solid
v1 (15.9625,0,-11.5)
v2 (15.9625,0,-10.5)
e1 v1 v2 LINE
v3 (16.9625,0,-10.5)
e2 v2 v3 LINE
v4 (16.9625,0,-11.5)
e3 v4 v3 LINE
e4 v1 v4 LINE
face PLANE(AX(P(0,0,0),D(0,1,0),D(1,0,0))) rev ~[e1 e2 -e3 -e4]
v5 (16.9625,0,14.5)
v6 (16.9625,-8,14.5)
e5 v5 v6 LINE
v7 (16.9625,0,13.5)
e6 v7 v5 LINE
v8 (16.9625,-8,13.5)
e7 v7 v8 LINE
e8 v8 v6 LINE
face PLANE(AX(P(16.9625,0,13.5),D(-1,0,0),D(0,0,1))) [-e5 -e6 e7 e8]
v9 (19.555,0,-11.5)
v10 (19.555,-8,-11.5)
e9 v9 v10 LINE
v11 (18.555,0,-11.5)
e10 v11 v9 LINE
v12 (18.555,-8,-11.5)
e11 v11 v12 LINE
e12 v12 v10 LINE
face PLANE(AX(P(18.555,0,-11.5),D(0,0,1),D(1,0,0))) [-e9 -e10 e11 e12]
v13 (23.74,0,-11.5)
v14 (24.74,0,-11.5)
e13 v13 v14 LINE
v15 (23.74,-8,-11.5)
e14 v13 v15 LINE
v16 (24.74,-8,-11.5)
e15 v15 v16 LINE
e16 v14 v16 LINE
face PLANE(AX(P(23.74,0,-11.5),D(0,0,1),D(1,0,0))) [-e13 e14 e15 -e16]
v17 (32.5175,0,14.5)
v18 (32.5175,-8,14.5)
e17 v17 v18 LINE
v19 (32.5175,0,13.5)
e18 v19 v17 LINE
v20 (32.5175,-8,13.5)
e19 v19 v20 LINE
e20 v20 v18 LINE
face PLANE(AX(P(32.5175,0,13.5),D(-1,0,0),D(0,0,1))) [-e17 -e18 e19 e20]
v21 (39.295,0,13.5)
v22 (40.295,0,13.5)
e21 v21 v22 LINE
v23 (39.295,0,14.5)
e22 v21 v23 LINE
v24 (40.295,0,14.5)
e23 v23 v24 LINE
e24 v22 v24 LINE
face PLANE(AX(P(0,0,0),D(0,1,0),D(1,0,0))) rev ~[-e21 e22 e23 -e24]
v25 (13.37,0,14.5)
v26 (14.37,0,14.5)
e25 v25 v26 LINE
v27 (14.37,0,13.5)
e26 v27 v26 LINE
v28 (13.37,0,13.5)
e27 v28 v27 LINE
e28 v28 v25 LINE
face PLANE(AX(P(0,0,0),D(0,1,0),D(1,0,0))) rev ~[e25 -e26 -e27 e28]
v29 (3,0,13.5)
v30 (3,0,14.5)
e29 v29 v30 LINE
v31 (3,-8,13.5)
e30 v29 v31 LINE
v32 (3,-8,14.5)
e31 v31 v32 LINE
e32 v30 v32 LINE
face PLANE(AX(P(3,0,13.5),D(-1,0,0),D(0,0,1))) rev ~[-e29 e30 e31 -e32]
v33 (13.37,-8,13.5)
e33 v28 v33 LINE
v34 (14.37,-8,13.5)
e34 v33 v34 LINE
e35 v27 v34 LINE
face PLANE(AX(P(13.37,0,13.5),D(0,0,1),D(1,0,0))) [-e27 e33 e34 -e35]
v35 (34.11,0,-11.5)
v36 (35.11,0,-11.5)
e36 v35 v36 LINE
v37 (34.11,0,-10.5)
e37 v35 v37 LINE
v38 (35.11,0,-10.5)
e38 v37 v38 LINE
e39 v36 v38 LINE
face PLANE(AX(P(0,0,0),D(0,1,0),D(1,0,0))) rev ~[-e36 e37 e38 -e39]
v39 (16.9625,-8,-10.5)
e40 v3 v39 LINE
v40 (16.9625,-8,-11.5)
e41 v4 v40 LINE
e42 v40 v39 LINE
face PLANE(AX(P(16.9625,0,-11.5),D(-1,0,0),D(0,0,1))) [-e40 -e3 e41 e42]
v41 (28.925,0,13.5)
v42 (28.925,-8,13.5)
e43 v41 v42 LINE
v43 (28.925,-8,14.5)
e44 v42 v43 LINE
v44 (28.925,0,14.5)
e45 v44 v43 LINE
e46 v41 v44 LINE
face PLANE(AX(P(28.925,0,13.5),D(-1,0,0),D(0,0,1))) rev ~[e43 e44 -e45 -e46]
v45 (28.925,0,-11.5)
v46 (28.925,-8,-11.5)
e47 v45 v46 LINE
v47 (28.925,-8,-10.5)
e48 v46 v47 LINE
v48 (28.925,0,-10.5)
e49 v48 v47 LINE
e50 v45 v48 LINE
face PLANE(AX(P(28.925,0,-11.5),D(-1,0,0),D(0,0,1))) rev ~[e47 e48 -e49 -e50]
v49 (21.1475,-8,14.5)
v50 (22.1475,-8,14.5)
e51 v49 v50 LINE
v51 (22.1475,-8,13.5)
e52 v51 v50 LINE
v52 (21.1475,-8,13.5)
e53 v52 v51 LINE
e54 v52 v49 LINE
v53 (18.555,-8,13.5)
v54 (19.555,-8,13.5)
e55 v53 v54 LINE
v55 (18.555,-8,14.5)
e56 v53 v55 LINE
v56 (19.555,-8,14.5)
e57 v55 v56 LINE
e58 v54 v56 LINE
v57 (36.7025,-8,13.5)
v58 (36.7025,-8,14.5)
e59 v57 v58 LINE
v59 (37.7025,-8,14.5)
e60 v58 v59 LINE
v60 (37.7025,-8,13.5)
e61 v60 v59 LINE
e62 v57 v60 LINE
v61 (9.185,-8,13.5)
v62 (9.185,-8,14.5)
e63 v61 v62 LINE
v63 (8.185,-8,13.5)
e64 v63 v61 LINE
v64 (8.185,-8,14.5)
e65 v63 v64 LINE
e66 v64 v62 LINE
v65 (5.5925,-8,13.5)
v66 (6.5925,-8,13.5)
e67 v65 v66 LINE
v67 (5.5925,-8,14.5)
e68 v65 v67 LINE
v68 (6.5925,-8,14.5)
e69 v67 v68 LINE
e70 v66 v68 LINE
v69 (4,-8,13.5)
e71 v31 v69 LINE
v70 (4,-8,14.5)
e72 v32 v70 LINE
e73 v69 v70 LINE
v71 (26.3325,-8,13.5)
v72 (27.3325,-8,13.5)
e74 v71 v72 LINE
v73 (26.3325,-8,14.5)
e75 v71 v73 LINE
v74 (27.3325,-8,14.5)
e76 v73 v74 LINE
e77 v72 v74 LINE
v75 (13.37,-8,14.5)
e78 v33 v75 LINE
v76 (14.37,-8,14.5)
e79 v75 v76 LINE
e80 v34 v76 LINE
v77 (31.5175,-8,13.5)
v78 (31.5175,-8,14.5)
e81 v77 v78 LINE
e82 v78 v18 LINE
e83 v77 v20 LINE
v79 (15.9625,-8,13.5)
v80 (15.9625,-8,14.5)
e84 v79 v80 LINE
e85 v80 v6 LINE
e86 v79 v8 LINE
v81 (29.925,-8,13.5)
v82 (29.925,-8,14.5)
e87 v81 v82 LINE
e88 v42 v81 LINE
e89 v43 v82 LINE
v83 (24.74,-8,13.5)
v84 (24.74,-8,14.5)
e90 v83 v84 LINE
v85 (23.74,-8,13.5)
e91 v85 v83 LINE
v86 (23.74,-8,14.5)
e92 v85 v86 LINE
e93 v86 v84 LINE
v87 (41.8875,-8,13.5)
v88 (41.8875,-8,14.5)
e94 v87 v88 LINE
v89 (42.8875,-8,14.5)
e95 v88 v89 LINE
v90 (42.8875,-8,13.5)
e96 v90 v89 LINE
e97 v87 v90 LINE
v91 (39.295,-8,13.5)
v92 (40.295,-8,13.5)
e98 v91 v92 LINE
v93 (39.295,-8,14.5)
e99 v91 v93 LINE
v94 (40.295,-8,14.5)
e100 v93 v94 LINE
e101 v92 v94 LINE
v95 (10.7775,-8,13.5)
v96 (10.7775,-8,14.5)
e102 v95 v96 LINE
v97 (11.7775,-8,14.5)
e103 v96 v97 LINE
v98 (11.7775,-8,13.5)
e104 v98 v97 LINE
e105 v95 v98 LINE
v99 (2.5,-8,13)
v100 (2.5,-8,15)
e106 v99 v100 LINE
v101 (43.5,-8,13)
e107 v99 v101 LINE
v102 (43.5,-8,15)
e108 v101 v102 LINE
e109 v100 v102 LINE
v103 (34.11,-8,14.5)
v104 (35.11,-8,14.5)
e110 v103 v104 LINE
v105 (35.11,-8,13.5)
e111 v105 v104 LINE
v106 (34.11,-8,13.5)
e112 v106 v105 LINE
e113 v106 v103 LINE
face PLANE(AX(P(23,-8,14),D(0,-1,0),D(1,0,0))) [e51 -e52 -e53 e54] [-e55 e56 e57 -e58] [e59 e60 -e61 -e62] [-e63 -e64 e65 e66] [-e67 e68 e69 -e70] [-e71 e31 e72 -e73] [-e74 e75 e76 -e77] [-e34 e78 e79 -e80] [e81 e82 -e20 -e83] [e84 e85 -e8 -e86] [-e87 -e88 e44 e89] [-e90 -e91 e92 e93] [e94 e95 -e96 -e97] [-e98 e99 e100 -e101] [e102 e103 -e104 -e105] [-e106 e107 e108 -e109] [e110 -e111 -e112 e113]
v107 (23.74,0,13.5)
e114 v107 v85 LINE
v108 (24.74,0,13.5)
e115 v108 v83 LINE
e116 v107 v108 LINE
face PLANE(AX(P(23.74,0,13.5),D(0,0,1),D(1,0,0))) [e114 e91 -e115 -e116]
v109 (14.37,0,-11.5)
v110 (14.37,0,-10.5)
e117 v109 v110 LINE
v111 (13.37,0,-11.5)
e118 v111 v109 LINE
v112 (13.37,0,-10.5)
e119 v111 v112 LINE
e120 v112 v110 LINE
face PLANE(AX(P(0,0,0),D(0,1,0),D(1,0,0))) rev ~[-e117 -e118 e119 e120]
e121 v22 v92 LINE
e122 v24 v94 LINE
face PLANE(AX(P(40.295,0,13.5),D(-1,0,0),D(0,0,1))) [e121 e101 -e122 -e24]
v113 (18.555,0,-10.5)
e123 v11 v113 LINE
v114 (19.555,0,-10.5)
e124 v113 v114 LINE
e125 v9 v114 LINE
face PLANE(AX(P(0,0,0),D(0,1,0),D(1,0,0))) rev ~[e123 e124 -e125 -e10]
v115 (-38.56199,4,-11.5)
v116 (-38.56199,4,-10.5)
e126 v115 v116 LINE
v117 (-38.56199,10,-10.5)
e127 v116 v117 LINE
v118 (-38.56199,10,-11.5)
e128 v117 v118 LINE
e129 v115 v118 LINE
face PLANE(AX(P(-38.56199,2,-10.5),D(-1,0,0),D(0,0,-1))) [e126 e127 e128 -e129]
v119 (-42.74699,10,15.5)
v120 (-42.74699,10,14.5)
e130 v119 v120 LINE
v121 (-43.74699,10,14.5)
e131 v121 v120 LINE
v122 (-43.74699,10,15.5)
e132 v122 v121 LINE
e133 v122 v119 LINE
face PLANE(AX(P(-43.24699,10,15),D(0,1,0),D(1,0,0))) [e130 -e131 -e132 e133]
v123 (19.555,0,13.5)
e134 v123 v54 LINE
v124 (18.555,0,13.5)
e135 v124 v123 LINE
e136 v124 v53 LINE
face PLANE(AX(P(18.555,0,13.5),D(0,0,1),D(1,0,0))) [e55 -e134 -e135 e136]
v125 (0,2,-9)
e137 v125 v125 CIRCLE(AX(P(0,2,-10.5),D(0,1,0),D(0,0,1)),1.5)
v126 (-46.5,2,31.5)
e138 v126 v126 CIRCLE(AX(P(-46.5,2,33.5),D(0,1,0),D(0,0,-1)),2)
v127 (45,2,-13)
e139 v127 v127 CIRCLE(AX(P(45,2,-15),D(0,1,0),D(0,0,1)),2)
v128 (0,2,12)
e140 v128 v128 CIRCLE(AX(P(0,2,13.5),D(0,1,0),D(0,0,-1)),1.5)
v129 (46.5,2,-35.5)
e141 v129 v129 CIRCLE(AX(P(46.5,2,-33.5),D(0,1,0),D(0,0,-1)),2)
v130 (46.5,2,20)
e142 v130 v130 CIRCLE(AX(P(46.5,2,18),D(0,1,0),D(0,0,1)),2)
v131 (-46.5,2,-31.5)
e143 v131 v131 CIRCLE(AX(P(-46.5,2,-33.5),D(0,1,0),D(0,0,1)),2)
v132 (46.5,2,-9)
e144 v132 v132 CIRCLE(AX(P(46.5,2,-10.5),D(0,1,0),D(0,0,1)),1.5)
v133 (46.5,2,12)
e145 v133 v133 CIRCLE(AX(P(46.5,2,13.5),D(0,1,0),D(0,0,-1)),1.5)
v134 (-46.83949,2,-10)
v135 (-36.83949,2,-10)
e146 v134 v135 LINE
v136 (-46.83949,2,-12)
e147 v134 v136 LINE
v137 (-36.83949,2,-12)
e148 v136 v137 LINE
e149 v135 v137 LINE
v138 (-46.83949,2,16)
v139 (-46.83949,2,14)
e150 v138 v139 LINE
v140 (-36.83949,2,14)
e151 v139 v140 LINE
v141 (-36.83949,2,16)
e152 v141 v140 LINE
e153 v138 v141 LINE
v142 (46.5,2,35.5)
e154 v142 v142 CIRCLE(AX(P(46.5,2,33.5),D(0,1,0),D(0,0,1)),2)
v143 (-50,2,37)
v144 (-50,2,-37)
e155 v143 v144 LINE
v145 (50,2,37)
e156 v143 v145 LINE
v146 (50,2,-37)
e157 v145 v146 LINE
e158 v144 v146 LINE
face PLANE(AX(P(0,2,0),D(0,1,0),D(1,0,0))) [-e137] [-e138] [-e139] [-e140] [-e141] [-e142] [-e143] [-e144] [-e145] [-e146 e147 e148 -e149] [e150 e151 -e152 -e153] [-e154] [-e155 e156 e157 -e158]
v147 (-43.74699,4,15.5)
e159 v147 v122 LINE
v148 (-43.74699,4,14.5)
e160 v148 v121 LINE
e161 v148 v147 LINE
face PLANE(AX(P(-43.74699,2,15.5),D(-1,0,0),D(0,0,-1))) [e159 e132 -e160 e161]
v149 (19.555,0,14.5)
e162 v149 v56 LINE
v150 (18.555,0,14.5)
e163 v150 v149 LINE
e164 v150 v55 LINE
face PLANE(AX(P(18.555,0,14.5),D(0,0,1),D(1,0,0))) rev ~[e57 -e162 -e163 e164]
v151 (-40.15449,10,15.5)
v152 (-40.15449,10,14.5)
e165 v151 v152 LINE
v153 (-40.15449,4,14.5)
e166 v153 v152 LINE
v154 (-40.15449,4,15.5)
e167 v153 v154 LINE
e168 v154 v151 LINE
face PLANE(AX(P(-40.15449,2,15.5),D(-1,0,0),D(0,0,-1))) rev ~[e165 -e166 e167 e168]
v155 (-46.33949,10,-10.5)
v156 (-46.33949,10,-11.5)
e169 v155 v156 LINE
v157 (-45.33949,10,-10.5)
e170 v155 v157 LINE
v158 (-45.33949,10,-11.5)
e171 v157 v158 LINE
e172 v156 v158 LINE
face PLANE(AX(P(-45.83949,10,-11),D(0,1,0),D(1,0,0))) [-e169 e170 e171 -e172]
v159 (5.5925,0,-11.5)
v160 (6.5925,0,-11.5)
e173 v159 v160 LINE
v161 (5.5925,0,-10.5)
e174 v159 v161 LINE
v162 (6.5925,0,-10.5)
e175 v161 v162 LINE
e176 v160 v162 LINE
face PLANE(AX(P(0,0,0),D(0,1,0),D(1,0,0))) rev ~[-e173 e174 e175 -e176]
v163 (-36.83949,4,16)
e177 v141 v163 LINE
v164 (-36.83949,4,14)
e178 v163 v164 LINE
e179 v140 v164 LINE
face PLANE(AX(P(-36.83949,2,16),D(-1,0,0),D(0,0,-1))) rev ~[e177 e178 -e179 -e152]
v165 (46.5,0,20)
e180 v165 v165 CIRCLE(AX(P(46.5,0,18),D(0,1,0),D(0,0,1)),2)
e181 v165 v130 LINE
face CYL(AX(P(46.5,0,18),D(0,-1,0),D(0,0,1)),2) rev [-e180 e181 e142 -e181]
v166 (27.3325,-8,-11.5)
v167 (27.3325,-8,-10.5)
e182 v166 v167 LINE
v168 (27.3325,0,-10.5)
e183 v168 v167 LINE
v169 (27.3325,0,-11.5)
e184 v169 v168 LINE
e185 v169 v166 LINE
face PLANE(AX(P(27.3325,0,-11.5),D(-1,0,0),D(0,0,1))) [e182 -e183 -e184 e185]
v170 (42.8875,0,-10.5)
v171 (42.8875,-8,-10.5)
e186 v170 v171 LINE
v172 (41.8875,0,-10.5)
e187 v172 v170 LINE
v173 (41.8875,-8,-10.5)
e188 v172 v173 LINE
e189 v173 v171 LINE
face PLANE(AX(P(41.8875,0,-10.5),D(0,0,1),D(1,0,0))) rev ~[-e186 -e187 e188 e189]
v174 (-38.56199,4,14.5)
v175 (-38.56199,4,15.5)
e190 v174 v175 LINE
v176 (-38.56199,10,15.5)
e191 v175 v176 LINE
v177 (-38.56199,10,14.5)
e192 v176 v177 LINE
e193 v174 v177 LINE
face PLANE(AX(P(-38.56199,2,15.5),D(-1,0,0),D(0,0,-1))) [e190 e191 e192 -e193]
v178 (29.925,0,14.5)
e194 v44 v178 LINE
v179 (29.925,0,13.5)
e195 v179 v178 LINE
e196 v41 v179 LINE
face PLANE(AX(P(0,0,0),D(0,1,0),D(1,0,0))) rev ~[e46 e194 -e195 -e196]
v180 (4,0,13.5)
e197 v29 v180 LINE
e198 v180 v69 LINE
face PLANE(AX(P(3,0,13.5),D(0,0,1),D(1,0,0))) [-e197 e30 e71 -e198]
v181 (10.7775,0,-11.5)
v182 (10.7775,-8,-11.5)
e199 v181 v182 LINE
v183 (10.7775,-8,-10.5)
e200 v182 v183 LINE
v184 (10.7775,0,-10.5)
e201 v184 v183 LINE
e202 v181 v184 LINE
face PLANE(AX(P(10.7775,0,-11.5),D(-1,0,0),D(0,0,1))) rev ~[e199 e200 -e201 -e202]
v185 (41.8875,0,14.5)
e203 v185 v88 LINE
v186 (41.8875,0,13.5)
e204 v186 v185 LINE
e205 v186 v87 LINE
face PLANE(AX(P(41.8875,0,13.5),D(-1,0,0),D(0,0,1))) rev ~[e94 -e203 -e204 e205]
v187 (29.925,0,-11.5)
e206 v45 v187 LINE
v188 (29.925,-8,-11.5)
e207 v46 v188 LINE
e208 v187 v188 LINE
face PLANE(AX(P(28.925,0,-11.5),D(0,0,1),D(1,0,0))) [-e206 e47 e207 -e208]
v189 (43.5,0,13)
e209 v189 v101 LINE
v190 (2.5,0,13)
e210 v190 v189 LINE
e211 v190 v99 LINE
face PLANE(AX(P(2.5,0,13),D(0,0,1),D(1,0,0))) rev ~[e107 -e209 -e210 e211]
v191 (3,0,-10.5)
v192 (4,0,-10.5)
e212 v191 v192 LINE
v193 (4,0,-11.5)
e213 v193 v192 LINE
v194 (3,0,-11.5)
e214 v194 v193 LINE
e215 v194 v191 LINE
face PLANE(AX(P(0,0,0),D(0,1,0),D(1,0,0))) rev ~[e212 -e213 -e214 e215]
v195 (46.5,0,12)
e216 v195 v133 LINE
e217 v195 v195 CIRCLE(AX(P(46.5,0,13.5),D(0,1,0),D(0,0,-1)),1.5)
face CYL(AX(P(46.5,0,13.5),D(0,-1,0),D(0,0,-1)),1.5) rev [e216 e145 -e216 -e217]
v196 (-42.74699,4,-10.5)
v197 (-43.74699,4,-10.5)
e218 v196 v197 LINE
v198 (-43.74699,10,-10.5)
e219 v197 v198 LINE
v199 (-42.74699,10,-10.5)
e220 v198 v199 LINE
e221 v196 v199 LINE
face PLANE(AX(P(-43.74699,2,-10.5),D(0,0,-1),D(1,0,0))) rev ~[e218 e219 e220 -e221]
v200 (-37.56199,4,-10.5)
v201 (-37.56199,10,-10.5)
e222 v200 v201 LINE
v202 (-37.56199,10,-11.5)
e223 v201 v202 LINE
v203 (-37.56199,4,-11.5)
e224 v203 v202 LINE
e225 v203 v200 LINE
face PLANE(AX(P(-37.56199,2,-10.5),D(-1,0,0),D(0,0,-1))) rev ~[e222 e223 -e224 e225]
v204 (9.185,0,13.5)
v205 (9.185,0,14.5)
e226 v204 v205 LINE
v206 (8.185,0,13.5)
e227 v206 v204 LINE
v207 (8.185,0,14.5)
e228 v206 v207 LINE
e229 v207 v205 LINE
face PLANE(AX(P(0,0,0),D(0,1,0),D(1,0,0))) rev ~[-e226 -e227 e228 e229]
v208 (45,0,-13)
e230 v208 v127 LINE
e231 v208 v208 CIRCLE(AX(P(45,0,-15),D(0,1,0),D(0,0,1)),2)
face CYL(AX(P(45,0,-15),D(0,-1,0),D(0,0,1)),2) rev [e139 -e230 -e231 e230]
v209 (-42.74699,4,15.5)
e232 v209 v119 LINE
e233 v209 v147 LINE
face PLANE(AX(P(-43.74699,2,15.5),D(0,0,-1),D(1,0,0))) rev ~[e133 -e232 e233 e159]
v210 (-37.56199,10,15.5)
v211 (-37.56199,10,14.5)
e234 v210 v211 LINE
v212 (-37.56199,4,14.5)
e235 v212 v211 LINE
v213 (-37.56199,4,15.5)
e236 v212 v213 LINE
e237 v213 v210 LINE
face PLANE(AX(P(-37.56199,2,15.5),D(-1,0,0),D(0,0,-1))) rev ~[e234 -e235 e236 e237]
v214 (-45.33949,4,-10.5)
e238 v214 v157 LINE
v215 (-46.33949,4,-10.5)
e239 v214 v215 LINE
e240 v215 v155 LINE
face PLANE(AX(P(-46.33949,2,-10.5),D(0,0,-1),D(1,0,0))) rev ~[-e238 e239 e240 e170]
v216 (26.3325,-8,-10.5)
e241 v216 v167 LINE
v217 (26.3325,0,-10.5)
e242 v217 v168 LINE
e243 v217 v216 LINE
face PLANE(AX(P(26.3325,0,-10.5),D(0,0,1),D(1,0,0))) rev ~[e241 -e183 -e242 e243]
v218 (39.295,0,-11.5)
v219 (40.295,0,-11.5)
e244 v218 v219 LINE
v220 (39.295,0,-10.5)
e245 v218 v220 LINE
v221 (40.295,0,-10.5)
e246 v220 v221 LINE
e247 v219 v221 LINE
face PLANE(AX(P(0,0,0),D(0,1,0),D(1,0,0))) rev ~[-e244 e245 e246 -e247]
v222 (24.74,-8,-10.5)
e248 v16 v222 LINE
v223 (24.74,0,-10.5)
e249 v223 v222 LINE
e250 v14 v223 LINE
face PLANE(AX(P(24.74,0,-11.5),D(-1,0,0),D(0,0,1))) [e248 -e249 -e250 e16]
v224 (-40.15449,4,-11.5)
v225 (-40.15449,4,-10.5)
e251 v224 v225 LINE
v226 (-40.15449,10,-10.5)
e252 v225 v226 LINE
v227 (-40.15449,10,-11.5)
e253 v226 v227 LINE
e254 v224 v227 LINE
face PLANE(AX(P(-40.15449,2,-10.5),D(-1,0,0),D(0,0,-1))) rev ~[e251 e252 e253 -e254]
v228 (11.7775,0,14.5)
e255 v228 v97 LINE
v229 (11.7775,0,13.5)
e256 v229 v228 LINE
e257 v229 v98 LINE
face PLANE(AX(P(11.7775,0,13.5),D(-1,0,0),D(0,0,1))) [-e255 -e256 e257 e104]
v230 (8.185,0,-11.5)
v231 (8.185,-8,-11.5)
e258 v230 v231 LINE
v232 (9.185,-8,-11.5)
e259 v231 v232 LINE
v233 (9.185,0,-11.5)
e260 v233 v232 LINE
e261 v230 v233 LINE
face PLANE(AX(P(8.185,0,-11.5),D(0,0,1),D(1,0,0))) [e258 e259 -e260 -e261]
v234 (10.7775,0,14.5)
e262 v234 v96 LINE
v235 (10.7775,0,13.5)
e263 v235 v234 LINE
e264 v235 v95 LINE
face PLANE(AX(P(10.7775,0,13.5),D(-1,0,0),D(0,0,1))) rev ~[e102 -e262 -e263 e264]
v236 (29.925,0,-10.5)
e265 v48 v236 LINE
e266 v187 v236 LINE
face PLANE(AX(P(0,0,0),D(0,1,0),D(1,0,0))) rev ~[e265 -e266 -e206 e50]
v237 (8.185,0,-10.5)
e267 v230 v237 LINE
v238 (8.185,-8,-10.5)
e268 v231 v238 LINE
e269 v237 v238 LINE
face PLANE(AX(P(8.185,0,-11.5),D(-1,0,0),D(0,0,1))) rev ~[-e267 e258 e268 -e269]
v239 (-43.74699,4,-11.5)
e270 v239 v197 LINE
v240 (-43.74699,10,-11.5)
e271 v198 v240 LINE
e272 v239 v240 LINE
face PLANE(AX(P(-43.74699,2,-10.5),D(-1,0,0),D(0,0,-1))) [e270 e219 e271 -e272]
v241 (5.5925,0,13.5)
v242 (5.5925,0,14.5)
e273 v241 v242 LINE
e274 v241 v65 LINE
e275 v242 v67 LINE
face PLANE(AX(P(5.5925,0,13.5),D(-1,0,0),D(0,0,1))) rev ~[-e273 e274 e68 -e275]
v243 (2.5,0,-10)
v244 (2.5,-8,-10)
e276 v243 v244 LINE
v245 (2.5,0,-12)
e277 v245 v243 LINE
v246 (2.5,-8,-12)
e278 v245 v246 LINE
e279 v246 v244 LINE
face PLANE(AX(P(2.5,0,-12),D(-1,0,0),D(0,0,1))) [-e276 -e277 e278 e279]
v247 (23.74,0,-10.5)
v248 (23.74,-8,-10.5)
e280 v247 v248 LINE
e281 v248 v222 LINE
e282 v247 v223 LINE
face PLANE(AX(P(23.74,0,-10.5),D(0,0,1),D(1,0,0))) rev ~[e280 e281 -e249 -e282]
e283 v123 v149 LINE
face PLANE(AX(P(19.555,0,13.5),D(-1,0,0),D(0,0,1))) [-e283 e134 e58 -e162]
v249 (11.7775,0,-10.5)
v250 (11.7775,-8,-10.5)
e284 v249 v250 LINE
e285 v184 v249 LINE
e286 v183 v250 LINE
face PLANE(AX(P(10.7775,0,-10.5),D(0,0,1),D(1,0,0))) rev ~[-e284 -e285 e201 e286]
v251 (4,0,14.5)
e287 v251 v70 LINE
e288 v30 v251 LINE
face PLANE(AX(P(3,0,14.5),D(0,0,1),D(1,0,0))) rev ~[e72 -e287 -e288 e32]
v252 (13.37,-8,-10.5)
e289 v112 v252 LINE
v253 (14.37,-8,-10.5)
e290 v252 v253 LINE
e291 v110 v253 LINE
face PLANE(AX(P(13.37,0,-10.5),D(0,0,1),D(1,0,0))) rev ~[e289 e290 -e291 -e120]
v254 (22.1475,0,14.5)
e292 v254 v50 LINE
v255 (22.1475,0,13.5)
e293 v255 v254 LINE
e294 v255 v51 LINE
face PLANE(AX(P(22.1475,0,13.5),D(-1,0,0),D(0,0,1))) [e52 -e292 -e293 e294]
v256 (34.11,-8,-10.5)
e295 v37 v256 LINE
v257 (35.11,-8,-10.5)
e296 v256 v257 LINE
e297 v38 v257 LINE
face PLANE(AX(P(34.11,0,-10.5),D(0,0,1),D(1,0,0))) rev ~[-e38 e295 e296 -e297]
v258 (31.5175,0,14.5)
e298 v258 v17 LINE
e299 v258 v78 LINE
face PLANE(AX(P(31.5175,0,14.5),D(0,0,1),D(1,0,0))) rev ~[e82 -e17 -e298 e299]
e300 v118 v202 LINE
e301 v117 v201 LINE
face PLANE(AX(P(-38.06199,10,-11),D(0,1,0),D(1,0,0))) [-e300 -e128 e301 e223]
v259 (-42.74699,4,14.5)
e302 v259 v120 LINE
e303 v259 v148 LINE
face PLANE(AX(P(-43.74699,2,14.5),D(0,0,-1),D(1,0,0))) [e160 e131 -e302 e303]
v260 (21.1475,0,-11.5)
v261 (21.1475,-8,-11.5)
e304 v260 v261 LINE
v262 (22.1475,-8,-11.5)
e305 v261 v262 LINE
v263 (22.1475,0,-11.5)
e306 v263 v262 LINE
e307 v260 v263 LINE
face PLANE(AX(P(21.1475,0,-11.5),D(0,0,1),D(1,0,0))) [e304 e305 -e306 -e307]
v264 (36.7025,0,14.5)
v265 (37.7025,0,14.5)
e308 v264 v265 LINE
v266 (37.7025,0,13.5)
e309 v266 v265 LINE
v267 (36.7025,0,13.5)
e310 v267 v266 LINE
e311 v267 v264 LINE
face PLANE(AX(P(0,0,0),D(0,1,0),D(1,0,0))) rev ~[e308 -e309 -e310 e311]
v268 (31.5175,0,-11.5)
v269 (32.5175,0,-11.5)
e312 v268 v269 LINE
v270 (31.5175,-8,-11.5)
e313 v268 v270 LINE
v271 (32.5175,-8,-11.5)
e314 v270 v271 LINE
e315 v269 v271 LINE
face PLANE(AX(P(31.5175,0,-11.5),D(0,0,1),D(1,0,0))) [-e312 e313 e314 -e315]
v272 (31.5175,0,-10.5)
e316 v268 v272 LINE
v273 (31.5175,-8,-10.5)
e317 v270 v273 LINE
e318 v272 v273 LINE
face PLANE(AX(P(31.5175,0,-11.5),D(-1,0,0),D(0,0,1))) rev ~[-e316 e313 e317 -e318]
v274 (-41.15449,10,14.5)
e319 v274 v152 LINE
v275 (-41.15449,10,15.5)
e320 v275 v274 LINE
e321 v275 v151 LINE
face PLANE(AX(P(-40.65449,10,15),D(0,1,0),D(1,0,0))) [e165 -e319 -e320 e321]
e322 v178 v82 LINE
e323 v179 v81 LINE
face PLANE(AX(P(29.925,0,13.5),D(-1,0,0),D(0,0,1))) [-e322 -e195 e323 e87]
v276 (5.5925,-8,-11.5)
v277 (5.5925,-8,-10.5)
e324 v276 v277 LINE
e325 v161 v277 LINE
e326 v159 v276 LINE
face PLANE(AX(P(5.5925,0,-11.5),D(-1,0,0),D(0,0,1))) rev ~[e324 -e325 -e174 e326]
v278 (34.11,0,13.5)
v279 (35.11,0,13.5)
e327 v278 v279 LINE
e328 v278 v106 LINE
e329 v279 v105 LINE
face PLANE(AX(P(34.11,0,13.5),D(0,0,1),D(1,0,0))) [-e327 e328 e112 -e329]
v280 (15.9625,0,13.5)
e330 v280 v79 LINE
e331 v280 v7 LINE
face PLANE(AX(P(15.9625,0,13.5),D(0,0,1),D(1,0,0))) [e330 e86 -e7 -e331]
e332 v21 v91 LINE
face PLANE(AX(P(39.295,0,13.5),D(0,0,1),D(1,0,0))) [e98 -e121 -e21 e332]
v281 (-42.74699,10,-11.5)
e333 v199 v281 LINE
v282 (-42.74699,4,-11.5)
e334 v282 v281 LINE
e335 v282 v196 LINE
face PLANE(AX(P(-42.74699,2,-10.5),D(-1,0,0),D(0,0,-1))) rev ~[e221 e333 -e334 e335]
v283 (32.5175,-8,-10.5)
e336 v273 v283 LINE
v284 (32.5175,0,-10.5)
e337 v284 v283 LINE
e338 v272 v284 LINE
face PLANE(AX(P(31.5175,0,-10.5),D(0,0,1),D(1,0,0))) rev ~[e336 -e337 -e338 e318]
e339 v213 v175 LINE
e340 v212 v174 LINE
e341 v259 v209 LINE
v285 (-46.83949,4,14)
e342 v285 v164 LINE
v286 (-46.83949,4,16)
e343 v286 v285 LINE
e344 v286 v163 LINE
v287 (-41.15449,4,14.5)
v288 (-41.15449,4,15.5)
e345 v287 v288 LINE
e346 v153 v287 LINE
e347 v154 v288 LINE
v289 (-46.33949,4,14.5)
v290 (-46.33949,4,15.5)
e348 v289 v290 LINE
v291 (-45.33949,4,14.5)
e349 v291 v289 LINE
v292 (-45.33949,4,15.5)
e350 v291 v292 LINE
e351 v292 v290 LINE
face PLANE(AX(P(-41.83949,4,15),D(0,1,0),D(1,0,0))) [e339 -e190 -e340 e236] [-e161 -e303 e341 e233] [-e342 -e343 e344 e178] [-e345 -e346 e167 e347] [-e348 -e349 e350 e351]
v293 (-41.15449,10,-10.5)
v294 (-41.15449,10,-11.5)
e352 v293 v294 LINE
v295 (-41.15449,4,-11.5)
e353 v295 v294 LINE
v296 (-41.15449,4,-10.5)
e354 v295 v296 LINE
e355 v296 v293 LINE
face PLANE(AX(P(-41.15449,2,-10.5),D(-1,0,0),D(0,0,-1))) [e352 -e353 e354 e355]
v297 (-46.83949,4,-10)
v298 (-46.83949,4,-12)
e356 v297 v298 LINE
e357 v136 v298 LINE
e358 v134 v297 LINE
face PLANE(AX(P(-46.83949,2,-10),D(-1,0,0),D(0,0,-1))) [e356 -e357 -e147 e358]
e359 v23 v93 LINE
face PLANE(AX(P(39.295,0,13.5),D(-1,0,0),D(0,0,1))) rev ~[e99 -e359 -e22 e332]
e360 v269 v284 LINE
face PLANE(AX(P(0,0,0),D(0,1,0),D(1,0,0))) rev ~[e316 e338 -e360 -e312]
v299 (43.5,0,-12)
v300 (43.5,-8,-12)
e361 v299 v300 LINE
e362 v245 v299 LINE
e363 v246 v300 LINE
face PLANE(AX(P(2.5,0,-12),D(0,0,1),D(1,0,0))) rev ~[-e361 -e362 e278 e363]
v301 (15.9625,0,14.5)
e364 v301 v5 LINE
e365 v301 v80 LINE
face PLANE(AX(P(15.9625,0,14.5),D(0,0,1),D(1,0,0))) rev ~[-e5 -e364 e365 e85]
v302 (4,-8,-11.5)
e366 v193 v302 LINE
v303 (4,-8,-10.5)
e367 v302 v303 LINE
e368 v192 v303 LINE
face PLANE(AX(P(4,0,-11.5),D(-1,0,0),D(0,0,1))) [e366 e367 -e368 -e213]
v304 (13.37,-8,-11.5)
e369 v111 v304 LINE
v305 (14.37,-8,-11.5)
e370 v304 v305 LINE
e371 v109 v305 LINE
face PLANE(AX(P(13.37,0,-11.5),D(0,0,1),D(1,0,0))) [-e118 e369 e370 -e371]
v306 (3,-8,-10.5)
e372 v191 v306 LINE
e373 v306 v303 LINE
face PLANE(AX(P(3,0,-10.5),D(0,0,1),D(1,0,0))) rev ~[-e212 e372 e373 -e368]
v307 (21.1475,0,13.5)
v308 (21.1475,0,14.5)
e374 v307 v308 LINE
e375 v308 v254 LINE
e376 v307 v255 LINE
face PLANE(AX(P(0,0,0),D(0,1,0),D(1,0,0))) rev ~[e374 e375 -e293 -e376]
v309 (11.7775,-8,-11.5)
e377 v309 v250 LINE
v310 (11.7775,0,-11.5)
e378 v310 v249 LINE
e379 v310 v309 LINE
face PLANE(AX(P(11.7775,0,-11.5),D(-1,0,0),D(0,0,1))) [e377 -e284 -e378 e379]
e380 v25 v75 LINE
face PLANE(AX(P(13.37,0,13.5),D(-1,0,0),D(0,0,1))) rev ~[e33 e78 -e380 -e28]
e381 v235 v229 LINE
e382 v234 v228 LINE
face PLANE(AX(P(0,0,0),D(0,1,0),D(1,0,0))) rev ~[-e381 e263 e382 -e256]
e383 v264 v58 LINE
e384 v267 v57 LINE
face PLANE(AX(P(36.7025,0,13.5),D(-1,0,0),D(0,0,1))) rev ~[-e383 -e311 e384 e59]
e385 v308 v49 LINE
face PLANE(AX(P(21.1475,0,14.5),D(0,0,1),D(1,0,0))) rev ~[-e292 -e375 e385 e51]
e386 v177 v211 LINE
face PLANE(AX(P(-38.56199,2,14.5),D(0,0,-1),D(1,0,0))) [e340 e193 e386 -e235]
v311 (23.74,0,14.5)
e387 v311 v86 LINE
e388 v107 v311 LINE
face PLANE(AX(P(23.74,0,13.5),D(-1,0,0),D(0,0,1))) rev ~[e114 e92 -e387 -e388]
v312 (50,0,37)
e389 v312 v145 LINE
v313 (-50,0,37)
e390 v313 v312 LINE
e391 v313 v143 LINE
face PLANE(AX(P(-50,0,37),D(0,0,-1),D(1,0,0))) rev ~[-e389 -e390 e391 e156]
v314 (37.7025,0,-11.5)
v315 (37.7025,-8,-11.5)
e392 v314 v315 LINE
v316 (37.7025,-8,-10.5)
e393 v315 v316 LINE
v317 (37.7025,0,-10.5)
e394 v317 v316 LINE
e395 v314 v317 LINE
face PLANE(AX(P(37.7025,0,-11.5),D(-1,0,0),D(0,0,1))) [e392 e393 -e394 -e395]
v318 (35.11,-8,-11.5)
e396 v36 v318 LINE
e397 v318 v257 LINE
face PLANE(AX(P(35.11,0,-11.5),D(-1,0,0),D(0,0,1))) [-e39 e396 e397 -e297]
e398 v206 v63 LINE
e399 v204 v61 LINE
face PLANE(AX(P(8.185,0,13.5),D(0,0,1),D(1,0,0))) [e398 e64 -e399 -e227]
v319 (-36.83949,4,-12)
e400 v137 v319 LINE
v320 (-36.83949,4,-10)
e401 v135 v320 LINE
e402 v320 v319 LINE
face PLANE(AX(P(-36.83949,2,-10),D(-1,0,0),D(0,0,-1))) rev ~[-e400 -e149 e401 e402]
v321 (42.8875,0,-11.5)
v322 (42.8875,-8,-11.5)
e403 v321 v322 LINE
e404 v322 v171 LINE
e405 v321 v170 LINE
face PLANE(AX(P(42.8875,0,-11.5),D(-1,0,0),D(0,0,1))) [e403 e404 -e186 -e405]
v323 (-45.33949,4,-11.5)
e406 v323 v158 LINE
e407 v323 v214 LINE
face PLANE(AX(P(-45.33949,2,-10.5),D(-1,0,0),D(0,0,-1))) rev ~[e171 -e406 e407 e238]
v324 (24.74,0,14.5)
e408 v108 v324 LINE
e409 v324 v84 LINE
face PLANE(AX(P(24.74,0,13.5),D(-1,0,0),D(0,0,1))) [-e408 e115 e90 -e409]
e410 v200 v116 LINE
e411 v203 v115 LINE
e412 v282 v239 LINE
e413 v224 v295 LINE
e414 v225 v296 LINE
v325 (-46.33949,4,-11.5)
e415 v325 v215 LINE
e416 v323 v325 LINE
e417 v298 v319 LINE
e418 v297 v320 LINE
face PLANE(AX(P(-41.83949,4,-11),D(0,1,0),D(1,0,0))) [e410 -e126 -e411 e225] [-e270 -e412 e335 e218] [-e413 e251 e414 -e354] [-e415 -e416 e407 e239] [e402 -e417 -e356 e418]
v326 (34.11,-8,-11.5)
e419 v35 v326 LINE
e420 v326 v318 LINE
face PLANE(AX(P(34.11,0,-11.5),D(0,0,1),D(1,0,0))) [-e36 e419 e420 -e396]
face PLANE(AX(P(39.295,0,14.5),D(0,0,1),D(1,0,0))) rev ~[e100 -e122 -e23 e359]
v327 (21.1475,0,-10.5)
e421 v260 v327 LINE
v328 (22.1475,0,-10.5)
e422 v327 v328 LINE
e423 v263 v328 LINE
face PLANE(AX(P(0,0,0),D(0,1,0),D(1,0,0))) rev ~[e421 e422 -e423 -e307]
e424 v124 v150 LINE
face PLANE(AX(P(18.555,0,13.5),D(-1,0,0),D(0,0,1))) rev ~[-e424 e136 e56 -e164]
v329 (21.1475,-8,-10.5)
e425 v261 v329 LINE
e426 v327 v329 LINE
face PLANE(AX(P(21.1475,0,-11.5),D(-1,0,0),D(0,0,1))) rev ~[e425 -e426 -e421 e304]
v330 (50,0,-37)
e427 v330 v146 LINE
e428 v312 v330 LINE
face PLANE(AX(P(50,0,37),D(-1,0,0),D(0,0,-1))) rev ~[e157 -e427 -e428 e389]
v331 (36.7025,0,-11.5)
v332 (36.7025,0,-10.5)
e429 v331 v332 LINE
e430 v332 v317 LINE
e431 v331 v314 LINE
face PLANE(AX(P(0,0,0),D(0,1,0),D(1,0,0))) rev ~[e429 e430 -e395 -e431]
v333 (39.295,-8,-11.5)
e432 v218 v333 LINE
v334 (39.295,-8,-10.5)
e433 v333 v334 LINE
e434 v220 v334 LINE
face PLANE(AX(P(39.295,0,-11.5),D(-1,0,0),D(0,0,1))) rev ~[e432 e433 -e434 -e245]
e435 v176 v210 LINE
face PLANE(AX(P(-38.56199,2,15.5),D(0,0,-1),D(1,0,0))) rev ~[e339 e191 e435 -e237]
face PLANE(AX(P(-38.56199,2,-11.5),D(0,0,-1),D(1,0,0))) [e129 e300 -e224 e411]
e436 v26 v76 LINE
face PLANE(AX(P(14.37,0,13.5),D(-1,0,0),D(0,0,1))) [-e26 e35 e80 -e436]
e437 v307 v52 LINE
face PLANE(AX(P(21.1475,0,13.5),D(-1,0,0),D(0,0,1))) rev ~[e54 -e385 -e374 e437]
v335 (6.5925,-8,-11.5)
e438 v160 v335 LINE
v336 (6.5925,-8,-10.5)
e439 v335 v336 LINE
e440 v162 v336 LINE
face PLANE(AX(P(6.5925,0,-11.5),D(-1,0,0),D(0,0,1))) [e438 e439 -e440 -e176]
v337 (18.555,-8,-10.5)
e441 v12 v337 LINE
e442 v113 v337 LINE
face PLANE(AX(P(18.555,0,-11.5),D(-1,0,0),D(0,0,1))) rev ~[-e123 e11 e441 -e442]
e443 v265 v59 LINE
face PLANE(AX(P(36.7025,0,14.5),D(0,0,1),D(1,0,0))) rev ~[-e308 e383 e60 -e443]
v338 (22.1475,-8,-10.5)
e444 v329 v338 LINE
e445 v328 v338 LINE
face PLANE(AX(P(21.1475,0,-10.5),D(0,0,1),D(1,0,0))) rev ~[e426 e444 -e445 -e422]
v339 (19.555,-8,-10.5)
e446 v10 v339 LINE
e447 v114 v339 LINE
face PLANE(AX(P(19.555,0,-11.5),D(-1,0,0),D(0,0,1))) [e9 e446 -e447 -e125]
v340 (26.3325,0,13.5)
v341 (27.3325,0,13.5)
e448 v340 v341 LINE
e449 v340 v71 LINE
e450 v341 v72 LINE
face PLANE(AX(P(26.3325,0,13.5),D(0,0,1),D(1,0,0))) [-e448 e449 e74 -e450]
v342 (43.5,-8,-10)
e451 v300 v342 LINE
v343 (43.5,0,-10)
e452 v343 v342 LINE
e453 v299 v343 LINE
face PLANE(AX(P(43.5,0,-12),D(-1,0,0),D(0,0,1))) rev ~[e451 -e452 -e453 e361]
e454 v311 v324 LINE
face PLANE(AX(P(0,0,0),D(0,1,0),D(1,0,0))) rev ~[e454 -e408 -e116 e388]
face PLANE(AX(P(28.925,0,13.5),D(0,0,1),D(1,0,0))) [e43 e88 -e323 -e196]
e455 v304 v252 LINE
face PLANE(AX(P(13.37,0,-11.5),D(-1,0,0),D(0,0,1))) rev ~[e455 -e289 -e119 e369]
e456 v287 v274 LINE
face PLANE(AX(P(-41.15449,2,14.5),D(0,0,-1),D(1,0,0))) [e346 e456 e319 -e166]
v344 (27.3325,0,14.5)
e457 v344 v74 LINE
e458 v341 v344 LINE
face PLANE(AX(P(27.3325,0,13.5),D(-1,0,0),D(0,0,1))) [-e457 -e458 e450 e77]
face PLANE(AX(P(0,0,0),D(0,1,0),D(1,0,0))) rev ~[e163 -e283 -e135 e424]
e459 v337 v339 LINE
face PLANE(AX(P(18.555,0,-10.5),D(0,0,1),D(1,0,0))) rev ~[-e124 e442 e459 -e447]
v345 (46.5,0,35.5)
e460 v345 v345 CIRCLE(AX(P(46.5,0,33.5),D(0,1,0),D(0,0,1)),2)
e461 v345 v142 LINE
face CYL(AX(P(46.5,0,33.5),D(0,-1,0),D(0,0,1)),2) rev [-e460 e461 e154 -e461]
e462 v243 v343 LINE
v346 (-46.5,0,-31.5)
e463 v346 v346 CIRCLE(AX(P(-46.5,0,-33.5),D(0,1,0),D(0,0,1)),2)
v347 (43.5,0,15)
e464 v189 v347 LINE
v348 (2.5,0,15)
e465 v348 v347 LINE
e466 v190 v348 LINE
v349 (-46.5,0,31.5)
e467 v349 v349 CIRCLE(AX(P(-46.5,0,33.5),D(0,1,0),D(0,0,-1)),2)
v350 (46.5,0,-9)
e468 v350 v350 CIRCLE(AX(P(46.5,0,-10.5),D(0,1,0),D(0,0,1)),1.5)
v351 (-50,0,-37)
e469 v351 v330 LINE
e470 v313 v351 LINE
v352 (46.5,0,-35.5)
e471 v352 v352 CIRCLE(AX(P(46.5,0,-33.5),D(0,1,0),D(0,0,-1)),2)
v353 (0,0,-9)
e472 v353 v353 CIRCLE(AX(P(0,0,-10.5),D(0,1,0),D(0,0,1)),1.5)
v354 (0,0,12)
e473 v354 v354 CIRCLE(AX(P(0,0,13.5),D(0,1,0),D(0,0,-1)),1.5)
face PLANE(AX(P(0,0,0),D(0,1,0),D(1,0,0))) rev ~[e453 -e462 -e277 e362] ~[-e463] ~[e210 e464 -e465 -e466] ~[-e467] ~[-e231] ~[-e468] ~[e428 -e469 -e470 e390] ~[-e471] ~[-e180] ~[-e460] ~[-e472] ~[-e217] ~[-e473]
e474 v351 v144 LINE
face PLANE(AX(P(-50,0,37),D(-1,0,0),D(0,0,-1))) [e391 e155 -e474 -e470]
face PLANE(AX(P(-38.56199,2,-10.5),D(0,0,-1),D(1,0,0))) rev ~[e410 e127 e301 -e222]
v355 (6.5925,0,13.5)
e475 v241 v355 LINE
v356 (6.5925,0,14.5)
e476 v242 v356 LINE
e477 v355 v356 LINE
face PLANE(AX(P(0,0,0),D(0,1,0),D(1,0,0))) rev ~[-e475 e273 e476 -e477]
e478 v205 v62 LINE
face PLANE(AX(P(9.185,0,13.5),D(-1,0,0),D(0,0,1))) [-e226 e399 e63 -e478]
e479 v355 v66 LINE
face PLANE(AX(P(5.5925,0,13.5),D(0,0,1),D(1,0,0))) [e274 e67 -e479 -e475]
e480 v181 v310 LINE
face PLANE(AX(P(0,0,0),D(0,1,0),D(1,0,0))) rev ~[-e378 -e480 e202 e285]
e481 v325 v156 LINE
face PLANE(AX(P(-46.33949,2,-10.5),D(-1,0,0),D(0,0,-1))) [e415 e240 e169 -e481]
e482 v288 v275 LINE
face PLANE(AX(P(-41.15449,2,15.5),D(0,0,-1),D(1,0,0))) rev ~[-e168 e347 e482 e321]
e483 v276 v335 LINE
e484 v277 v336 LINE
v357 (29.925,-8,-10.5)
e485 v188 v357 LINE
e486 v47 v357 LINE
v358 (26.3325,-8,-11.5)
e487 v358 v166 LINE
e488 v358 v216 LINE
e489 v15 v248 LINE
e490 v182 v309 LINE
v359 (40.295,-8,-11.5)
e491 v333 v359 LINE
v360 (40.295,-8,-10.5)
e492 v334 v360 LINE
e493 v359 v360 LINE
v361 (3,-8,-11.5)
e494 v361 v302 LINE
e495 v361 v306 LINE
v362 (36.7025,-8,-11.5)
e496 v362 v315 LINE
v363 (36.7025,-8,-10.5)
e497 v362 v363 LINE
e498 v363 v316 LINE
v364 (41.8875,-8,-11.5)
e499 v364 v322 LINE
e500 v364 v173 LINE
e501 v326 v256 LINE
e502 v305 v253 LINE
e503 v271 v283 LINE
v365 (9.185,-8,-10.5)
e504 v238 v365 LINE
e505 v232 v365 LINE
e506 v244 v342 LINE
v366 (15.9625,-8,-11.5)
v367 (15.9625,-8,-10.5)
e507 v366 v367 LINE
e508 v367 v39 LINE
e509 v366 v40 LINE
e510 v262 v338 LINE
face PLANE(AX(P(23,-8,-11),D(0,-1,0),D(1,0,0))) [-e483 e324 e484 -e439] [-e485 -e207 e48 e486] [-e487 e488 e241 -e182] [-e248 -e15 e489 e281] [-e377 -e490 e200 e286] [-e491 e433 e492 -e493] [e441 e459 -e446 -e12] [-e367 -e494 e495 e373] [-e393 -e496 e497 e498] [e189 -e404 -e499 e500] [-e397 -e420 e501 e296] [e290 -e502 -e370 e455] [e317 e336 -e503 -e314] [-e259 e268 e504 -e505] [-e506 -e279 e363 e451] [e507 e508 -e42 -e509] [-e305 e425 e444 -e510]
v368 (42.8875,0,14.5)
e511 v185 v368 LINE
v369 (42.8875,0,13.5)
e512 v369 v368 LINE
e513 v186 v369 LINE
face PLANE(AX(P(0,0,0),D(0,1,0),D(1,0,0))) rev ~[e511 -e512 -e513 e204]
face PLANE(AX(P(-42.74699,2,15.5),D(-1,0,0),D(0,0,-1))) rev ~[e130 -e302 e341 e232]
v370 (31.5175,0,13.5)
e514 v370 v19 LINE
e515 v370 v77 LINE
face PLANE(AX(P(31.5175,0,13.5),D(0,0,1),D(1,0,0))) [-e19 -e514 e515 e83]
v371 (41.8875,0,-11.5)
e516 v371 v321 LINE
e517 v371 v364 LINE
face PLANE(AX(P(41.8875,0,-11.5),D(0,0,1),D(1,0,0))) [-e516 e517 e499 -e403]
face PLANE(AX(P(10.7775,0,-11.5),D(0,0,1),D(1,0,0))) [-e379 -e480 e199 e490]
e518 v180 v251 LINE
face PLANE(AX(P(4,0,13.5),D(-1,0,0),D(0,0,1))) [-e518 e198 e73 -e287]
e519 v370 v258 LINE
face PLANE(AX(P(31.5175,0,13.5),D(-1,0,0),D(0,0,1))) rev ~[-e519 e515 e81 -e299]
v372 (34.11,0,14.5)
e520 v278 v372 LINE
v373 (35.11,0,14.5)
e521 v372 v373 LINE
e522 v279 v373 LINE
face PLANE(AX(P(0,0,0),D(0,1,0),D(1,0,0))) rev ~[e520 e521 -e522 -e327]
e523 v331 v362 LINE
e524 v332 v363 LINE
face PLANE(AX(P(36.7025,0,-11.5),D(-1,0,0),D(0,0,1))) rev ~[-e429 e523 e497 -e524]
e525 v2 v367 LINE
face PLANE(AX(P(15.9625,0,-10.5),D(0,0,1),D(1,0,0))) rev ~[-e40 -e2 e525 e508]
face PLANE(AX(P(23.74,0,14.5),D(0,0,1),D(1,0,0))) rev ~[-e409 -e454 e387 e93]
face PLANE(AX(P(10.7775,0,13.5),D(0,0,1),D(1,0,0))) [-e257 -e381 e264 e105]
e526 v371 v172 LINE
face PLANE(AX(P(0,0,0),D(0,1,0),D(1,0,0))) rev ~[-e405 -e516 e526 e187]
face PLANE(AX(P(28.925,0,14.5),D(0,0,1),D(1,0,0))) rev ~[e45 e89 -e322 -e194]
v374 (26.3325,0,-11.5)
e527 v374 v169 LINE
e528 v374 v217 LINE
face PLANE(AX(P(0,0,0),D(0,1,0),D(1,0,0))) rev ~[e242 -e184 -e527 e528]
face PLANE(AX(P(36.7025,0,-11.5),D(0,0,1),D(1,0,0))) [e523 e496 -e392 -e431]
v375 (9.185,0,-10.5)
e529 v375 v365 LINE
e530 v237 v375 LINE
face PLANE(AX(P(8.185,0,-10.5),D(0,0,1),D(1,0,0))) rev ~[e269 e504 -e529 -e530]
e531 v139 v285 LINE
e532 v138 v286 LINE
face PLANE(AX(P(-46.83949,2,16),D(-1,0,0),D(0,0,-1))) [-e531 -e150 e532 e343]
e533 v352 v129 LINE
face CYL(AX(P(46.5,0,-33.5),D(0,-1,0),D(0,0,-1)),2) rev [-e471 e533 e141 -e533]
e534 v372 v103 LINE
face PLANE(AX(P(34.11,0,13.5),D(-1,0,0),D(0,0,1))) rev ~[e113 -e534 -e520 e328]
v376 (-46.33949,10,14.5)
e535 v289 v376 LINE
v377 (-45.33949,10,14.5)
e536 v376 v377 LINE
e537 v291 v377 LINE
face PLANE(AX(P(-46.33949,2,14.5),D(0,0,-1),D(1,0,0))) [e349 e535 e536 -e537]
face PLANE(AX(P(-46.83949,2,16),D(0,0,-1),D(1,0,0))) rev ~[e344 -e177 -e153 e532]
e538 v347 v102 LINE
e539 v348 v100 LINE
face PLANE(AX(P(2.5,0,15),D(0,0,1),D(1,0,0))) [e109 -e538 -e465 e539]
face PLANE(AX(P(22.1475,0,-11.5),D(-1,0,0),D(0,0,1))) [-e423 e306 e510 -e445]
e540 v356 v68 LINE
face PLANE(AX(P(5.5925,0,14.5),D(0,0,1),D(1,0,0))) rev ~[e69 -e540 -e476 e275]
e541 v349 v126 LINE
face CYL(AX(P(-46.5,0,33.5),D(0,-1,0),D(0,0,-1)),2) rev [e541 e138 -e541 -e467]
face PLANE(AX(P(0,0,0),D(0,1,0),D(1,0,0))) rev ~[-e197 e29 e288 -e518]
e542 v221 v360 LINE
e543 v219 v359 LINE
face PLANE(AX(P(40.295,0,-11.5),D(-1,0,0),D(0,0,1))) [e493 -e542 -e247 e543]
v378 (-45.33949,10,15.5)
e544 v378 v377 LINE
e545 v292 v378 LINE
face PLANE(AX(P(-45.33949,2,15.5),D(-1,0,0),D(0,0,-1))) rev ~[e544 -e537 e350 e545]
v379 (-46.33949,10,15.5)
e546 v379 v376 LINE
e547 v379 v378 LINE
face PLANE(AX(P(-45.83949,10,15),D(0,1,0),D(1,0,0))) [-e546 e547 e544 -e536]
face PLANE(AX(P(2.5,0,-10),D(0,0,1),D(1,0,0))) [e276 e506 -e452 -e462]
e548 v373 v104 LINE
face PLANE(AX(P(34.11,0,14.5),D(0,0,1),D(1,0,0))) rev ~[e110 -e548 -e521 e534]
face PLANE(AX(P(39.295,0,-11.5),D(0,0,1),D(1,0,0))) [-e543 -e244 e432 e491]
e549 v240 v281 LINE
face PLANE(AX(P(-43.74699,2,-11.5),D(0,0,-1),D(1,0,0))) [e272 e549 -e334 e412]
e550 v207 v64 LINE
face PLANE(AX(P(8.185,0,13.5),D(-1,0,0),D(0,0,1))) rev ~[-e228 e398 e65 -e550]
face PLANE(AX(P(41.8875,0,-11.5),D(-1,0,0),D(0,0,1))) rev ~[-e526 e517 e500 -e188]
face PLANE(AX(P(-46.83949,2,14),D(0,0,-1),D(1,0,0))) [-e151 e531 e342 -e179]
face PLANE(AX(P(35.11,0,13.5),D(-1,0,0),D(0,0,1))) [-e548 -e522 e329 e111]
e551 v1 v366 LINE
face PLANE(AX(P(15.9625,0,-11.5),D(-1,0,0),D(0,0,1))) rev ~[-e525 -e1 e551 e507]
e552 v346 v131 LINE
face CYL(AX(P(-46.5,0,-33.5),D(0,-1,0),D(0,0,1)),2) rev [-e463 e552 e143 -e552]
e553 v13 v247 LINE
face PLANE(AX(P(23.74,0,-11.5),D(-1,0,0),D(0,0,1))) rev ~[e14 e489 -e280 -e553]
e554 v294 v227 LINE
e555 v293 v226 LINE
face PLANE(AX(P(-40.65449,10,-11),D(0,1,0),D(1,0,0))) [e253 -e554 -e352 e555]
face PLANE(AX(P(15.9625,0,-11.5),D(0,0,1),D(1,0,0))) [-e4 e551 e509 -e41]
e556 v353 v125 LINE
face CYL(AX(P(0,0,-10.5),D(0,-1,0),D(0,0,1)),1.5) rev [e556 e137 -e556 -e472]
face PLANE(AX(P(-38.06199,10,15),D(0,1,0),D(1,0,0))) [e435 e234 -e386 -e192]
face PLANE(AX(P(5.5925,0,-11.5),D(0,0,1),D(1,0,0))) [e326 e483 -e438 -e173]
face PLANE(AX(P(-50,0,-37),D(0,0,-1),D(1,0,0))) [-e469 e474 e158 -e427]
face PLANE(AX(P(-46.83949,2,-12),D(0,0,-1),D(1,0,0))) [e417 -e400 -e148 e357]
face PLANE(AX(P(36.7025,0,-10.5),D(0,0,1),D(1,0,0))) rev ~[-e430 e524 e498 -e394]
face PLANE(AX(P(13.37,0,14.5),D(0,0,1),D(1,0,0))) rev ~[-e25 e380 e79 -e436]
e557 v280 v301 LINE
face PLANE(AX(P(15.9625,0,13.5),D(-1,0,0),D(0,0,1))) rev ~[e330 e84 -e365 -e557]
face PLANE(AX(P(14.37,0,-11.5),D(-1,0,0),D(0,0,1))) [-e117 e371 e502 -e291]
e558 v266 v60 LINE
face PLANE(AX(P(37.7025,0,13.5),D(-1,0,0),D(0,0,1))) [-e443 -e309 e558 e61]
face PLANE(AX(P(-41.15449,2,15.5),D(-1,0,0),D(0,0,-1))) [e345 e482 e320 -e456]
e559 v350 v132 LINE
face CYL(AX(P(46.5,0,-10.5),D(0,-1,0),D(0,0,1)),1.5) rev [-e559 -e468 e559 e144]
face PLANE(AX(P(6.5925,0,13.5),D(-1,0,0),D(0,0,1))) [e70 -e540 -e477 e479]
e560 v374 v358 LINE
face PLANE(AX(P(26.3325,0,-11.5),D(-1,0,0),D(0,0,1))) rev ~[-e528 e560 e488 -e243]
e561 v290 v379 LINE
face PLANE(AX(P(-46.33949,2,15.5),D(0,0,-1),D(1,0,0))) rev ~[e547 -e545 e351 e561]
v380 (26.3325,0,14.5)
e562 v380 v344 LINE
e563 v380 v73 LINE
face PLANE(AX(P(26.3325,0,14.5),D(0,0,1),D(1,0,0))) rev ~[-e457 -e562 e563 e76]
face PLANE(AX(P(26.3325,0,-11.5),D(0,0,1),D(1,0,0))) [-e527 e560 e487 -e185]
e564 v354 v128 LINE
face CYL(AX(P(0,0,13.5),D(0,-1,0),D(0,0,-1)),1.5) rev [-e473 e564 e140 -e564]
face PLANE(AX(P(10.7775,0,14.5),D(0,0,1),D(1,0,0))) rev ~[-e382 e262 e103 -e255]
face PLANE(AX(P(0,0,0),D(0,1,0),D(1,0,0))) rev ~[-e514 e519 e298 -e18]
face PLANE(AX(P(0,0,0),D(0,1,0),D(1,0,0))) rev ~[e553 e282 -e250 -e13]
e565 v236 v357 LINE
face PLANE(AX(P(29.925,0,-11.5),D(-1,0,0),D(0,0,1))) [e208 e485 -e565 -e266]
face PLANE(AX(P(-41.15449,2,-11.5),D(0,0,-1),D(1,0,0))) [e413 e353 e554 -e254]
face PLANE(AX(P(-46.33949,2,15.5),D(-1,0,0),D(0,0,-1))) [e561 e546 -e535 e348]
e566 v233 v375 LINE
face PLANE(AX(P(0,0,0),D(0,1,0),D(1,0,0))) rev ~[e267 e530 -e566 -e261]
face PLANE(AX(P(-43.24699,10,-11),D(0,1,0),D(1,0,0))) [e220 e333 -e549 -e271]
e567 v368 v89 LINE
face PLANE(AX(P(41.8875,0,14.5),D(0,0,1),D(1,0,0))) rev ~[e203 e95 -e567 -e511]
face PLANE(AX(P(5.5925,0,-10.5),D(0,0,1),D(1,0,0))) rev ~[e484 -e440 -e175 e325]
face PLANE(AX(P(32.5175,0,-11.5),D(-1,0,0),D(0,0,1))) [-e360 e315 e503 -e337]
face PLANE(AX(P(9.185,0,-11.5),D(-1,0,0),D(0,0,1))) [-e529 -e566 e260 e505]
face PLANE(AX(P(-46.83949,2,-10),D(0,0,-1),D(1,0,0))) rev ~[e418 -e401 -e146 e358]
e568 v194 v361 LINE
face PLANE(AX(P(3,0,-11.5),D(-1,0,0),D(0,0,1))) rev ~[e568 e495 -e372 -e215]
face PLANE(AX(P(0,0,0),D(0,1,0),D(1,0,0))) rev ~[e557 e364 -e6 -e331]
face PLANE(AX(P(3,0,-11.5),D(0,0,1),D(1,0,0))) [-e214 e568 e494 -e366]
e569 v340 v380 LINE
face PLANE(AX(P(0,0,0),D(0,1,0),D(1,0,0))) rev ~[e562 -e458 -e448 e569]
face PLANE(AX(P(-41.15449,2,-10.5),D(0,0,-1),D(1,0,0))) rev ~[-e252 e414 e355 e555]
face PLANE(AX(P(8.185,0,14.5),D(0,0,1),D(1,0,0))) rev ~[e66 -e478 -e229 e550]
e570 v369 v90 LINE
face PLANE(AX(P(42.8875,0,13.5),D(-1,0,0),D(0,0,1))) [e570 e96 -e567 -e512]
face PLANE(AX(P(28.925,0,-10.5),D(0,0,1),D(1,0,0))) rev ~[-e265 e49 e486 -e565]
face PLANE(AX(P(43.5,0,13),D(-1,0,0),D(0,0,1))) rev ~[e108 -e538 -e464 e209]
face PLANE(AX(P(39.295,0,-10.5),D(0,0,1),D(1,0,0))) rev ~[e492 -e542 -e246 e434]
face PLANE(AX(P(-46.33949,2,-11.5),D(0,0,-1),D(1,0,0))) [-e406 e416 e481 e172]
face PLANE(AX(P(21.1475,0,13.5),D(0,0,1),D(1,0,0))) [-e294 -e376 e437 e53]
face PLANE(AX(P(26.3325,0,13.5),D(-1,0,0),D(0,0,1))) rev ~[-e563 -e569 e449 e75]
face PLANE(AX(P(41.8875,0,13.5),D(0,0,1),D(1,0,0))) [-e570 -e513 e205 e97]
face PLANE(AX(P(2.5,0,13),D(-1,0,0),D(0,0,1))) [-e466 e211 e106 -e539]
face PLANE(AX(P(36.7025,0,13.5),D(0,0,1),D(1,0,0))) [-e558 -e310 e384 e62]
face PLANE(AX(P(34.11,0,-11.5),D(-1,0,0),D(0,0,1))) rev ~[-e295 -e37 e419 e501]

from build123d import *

# Parameters (mm, degrees)
SKETCH1_W           = 100
SKETCH1_H           = 74
SKETCH1_R           = 2
SKETCH1_R_2         = 1.5
BOSS_EXTRUDE1_DEPTH = 2
SKETCH2_W           = 10
SKETCH2_H           = 2
BOSS_EXTRUDE2_DEPTH = 2
SKETCH3_W           = 41
SKETCH3_H           = 2
SKETCH3_W_2         = 1
SKETCH3_H_2         = 1
BOSS_EXTRUDE4_DEPTH = 8
SKETCH4_W           = 1
SKETCH4_H           = 1
BOSS_EXTRUDE5_DEPTH = 8


with BuildPart() as part:
    # Sketch1 → Boss-Extrude1 (new body)
    with BuildSketch(Plane(origin=(0, 0, 0), x_dir=(1, 0, 0), z_dir=(0, 1, 0))):
        Rectangle(SKETCH1_W, SKETCH1_H)
        with Locations(Location((-46.5, 33.5, 0), (0, 0, 270))):
            Circle(SKETCH1_R, mode=Mode.SUBTRACT)
        with Locations(Location((46.5, 33.5, 0), (0, 0, 90))):
            Circle(SKETCH1_R, mode=Mode.SUBTRACT)
        with Locations(Location((46.5, -33.5, 0), (0, 0, 270))):
            Circle(SKETCH1_R, mode=Mode.SUBTRACT)
        with Locations(Location((-46.5, -33.5, 0), (0, 0, 90))):
            Circle(SKETCH1_R, mode=Mode.SUBTRACT)
        with Locations(Location((46.5, -18, 0), (0, 0, 270))):
            Circle(SKETCH1_R, mode=Mode.SUBTRACT)
        with Locations(Location((45, 15, 0), (0, 0, 270))):
            Circle(SKETCH1_R, mode=Mode.SUBTRACT)
        with Locations(Location((0, 10.5, 0), (0, 0, 270))):
            Circle(SKETCH1_R_2, mode=Mode.SUBTRACT)
        with Locations(Location((46.5, 10.5, 0), (0, 0, 270))):
            Circle(SKETCH1_R_2, mode=Mode.SUBTRACT)
        with Locations(Location((46.5, -13.5, 0), (0, 0, 90))):
            Circle(SKETCH1_R_2, mode=Mode.SUBTRACT)
        with Locations(Location((0, -13.5, 0), (0, 0, 90))):
            Circle(SKETCH1_R_2, mode=Mode.SUBTRACT)
    extrude(amount=BOSS_EXTRUDE1_DEPTH)

    # Sketch2 → Boss-Extrude2 (add)
    with BuildSketch(Plane(origin=(0, 2, 0), x_dir=(1, 0, 0), z_dir=(0, 1, 0))):
        with Locations((-41.839490028, 11)):
            Rectangle(SKETCH2_W, SKETCH2_H)
        with Locations((-41.839490028, -15)):
            Rectangle(SKETCH2_W, SKETCH2_H)
    extrude(amount=BOSS_EXTRUDE2_DEPTH)

    # Sketch3 → Boss-Extrude4 (add)
    # profile 1 of 2: a face of its own
    with BuildSketch(Plane.XZ):
        with Locations((23, 14)):
            Rectangle(SKETCH3_W, SKETCH3_H)
        with Locations((3.5, 14)):
            Rectangle(SKETCH3_W_2, SKETCH3_H_2, mode=Mode.SUBTRACT)
        with Locations((6.0925, 14)):
            Rectangle(SKETCH3_W_2, SKETCH3_H_2, mode=Mode.SUBTRACT)
        with Locations((8.685, 14)):
            Rectangle(SKETCH3_W_2, SKETCH3_H_2, mode=Mode.SUBTRACT)
        with Locations((11.2775, 14)):
            Rectangle(SKETCH3_W_2, SKETCH3_H_2, mode=Mode.SUBTRACT)
        with Locations((13.87, 14)):
            Rectangle(SKETCH3_W_2, SKETCH3_H_2, mode=Mode.SUBTRACT)
        with Locations((16.4625, 14)):
            Rectangle(SKETCH3_W_2, SKETCH3_H_2, mode=Mode.SUBTRACT)
        with Locations((19.055, 14)):
            Rectangle(SKETCH3_W_2, SKETCH3_H_2, mode=Mode.SUBTRACT)
        with Locations((21.6475, 14)):
            Rectangle(SKETCH3_W_2, SKETCH3_H_2, mode=Mode.SUBTRACT)
        with Locations((24.24, 14)):
            Rectangle(SKETCH3_W_2, SKETCH3_H_2, mode=Mode.SUBTRACT)
        with Locations((26.8325, 14)):
            Rectangle(SKETCH3_W_2, SKETCH3_H_2, mode=Mode.SUBTRACT)
        with Locations((29.425, 14)):
            Rectangle(SKETCH3_W_2, SKETCH3_H_2, mode=Mode.SUBTRACT)
        with Locations((32.0175, 14)):
            Rectangle(SKETCH3_W_2, SKETCH3_H_2, mode=Mode.SUBTRACT)
        with Locations((34.61, 14)):
            Rectangle(SKETCH3_W_2, SKETCH3_H_2, mode=Mode.SUBTRACT)
        with Locations((37.2025, 14)):
            Rectangle(SKETCH3_W_2, SKETCH3_H_2, mode=Mode.SUBTRACT)
        with Locations((39.795, 14)):
            Rectangle(SKETCH3_W_2, SKETCH3_H_2, mode=Mode.SUBTRACT)
        with Locations((42.3875, 14)):
            Rectangle(SKETCH3_W_2, SKETCH3_H_2, mode=Mode.SUBTRACT)
    # profile 2 of 2: a face of its own
    with BuildSketch(Plane.XZ):
        with Locations((23, -11)):
            Rectangle(SKETCH3_W, SKETCH3_H)
        with Locations((42.3875, -11)):
            Rectangle(SKETCH3_W_2, SKETCH3_H_2, mode=Mode.SUBTRACT)
        with Locations((39.795, -11)):
            Rectangle(SKETCH3_W_2, SKETCH3_H_2, mode=Mode.SUBTRACT)
        with Locations((37.2025, -11)):
            Rectangle(SKETCH3_W_2, SKETCH3_H_2, mode=Mode.SUBTRACT)
        with Locations((34.61, -11)):
            Rectangle(SKETCH3_W_2, SKETCH3_H_2, mode=Mode.SUBTRACT)
        with Locations((32.0175, -11)):
            Rectangle(SKETCH3_W_2, SKETCH3_H_2, mode=Mode.SUBTRACT)
        with Locations((29.425, -11)):
            Rectangle(SKETCH3_W_2, SKETCH3_H_2, mode=Mode.SUBTRACT)
        with Locations((26.8325, -11)):
            Rectangle(SKETCH3_W_2, SKETCH3_H_2, mode=Mode.SUBTRACT)
        with Locations((24.24, -11)):
            Rectangle(SKETCH3_W_2, SKETCH3_H_2, mode=Mode.SUBTRACT)
        with Locations((21.6475, -11)):
            Rectangle(SKETCH3_W_2, SKETCH3_H_2, mode=Mode.SUBTRACT)
        with Locations((19.055, -11)):
            Rectangle(SKETCH3_W_2, SKETCH3_H_2, mode=Mode.SUBTRACT)
        with Locations((16.4625, -11)):
            Rectangle(SKETCH3_W_2, SKETCH3_H_2, mode=Mode.SUBTRACT)
        with Locations((13.87, -11)):
            Rectangle(SKETCH3_W_2, SKETCH3_H_2, mode=Mode.SUBTRACT)
        with Locations((11.2775, -11)):
            Rectangle(SKETCH3_W_2, SKETCH3_H_2, mode=Mode.SUBTRACT)
        with Locations((8.685, -11)):
            Rectangle(SKETCH3_W_2, SKETCH3_H_2, mode=Mode.SUBTRACT)
        with Locations((6.0925, -11)):
            Rectangle(SKETCH3_W_2, SKETCH3_H_2, mode=Mode.SUBTRACT)
        with Locations((3.5, -11)):
            Rectangle(SKETCH3_W_2, SKETCH3_H_2, mode=Mode.SUBTRACT)
    extrude(amount=BOSS_EXTRUDE4_DEPTH)

    # Sketch4 → Boss-Extrude5 (add)
    with BuildSketch(Plane(origin=(0, 2, 0), x_dir=(1, 0, 0), z_dir=(0, 1, 0))):
        with Locations((-45.839490028, 11)):
            Rectangle(SKETCH4_W, SKETCH4_H)
        with Locations((-43.246990028, 11)):
            Rectangle(SKETCH4_W, SKETCH4_H)
        with Locations((-40.654490028, 11)):
            Rectangle(SKETCH4_W, SKETCH4_H)
        with Locations((-38.061990028, 11)):
            Rectangle(SKETCH4_W, SKETCH4_H)
        with Locations((-38.061990028, -15)):
            Rectangle(SKETCH4_W, SKETCH4_H)
        with Locations((-40.654490028, -15)):
            Rectangle(SKETCH4_W, SKETCH4_H)
        with Locations((-43.246990028, -15)):
            Rectangle(SKETCH4_W, SKETCH4_H)
        with Locations((-45.839490028, -15)):
            Rectangle(SKETCH4_W, SKETCH4_H)
    extrude(amount=BOSS_EXTRUDE5_DEPTH)


solid = part.part
